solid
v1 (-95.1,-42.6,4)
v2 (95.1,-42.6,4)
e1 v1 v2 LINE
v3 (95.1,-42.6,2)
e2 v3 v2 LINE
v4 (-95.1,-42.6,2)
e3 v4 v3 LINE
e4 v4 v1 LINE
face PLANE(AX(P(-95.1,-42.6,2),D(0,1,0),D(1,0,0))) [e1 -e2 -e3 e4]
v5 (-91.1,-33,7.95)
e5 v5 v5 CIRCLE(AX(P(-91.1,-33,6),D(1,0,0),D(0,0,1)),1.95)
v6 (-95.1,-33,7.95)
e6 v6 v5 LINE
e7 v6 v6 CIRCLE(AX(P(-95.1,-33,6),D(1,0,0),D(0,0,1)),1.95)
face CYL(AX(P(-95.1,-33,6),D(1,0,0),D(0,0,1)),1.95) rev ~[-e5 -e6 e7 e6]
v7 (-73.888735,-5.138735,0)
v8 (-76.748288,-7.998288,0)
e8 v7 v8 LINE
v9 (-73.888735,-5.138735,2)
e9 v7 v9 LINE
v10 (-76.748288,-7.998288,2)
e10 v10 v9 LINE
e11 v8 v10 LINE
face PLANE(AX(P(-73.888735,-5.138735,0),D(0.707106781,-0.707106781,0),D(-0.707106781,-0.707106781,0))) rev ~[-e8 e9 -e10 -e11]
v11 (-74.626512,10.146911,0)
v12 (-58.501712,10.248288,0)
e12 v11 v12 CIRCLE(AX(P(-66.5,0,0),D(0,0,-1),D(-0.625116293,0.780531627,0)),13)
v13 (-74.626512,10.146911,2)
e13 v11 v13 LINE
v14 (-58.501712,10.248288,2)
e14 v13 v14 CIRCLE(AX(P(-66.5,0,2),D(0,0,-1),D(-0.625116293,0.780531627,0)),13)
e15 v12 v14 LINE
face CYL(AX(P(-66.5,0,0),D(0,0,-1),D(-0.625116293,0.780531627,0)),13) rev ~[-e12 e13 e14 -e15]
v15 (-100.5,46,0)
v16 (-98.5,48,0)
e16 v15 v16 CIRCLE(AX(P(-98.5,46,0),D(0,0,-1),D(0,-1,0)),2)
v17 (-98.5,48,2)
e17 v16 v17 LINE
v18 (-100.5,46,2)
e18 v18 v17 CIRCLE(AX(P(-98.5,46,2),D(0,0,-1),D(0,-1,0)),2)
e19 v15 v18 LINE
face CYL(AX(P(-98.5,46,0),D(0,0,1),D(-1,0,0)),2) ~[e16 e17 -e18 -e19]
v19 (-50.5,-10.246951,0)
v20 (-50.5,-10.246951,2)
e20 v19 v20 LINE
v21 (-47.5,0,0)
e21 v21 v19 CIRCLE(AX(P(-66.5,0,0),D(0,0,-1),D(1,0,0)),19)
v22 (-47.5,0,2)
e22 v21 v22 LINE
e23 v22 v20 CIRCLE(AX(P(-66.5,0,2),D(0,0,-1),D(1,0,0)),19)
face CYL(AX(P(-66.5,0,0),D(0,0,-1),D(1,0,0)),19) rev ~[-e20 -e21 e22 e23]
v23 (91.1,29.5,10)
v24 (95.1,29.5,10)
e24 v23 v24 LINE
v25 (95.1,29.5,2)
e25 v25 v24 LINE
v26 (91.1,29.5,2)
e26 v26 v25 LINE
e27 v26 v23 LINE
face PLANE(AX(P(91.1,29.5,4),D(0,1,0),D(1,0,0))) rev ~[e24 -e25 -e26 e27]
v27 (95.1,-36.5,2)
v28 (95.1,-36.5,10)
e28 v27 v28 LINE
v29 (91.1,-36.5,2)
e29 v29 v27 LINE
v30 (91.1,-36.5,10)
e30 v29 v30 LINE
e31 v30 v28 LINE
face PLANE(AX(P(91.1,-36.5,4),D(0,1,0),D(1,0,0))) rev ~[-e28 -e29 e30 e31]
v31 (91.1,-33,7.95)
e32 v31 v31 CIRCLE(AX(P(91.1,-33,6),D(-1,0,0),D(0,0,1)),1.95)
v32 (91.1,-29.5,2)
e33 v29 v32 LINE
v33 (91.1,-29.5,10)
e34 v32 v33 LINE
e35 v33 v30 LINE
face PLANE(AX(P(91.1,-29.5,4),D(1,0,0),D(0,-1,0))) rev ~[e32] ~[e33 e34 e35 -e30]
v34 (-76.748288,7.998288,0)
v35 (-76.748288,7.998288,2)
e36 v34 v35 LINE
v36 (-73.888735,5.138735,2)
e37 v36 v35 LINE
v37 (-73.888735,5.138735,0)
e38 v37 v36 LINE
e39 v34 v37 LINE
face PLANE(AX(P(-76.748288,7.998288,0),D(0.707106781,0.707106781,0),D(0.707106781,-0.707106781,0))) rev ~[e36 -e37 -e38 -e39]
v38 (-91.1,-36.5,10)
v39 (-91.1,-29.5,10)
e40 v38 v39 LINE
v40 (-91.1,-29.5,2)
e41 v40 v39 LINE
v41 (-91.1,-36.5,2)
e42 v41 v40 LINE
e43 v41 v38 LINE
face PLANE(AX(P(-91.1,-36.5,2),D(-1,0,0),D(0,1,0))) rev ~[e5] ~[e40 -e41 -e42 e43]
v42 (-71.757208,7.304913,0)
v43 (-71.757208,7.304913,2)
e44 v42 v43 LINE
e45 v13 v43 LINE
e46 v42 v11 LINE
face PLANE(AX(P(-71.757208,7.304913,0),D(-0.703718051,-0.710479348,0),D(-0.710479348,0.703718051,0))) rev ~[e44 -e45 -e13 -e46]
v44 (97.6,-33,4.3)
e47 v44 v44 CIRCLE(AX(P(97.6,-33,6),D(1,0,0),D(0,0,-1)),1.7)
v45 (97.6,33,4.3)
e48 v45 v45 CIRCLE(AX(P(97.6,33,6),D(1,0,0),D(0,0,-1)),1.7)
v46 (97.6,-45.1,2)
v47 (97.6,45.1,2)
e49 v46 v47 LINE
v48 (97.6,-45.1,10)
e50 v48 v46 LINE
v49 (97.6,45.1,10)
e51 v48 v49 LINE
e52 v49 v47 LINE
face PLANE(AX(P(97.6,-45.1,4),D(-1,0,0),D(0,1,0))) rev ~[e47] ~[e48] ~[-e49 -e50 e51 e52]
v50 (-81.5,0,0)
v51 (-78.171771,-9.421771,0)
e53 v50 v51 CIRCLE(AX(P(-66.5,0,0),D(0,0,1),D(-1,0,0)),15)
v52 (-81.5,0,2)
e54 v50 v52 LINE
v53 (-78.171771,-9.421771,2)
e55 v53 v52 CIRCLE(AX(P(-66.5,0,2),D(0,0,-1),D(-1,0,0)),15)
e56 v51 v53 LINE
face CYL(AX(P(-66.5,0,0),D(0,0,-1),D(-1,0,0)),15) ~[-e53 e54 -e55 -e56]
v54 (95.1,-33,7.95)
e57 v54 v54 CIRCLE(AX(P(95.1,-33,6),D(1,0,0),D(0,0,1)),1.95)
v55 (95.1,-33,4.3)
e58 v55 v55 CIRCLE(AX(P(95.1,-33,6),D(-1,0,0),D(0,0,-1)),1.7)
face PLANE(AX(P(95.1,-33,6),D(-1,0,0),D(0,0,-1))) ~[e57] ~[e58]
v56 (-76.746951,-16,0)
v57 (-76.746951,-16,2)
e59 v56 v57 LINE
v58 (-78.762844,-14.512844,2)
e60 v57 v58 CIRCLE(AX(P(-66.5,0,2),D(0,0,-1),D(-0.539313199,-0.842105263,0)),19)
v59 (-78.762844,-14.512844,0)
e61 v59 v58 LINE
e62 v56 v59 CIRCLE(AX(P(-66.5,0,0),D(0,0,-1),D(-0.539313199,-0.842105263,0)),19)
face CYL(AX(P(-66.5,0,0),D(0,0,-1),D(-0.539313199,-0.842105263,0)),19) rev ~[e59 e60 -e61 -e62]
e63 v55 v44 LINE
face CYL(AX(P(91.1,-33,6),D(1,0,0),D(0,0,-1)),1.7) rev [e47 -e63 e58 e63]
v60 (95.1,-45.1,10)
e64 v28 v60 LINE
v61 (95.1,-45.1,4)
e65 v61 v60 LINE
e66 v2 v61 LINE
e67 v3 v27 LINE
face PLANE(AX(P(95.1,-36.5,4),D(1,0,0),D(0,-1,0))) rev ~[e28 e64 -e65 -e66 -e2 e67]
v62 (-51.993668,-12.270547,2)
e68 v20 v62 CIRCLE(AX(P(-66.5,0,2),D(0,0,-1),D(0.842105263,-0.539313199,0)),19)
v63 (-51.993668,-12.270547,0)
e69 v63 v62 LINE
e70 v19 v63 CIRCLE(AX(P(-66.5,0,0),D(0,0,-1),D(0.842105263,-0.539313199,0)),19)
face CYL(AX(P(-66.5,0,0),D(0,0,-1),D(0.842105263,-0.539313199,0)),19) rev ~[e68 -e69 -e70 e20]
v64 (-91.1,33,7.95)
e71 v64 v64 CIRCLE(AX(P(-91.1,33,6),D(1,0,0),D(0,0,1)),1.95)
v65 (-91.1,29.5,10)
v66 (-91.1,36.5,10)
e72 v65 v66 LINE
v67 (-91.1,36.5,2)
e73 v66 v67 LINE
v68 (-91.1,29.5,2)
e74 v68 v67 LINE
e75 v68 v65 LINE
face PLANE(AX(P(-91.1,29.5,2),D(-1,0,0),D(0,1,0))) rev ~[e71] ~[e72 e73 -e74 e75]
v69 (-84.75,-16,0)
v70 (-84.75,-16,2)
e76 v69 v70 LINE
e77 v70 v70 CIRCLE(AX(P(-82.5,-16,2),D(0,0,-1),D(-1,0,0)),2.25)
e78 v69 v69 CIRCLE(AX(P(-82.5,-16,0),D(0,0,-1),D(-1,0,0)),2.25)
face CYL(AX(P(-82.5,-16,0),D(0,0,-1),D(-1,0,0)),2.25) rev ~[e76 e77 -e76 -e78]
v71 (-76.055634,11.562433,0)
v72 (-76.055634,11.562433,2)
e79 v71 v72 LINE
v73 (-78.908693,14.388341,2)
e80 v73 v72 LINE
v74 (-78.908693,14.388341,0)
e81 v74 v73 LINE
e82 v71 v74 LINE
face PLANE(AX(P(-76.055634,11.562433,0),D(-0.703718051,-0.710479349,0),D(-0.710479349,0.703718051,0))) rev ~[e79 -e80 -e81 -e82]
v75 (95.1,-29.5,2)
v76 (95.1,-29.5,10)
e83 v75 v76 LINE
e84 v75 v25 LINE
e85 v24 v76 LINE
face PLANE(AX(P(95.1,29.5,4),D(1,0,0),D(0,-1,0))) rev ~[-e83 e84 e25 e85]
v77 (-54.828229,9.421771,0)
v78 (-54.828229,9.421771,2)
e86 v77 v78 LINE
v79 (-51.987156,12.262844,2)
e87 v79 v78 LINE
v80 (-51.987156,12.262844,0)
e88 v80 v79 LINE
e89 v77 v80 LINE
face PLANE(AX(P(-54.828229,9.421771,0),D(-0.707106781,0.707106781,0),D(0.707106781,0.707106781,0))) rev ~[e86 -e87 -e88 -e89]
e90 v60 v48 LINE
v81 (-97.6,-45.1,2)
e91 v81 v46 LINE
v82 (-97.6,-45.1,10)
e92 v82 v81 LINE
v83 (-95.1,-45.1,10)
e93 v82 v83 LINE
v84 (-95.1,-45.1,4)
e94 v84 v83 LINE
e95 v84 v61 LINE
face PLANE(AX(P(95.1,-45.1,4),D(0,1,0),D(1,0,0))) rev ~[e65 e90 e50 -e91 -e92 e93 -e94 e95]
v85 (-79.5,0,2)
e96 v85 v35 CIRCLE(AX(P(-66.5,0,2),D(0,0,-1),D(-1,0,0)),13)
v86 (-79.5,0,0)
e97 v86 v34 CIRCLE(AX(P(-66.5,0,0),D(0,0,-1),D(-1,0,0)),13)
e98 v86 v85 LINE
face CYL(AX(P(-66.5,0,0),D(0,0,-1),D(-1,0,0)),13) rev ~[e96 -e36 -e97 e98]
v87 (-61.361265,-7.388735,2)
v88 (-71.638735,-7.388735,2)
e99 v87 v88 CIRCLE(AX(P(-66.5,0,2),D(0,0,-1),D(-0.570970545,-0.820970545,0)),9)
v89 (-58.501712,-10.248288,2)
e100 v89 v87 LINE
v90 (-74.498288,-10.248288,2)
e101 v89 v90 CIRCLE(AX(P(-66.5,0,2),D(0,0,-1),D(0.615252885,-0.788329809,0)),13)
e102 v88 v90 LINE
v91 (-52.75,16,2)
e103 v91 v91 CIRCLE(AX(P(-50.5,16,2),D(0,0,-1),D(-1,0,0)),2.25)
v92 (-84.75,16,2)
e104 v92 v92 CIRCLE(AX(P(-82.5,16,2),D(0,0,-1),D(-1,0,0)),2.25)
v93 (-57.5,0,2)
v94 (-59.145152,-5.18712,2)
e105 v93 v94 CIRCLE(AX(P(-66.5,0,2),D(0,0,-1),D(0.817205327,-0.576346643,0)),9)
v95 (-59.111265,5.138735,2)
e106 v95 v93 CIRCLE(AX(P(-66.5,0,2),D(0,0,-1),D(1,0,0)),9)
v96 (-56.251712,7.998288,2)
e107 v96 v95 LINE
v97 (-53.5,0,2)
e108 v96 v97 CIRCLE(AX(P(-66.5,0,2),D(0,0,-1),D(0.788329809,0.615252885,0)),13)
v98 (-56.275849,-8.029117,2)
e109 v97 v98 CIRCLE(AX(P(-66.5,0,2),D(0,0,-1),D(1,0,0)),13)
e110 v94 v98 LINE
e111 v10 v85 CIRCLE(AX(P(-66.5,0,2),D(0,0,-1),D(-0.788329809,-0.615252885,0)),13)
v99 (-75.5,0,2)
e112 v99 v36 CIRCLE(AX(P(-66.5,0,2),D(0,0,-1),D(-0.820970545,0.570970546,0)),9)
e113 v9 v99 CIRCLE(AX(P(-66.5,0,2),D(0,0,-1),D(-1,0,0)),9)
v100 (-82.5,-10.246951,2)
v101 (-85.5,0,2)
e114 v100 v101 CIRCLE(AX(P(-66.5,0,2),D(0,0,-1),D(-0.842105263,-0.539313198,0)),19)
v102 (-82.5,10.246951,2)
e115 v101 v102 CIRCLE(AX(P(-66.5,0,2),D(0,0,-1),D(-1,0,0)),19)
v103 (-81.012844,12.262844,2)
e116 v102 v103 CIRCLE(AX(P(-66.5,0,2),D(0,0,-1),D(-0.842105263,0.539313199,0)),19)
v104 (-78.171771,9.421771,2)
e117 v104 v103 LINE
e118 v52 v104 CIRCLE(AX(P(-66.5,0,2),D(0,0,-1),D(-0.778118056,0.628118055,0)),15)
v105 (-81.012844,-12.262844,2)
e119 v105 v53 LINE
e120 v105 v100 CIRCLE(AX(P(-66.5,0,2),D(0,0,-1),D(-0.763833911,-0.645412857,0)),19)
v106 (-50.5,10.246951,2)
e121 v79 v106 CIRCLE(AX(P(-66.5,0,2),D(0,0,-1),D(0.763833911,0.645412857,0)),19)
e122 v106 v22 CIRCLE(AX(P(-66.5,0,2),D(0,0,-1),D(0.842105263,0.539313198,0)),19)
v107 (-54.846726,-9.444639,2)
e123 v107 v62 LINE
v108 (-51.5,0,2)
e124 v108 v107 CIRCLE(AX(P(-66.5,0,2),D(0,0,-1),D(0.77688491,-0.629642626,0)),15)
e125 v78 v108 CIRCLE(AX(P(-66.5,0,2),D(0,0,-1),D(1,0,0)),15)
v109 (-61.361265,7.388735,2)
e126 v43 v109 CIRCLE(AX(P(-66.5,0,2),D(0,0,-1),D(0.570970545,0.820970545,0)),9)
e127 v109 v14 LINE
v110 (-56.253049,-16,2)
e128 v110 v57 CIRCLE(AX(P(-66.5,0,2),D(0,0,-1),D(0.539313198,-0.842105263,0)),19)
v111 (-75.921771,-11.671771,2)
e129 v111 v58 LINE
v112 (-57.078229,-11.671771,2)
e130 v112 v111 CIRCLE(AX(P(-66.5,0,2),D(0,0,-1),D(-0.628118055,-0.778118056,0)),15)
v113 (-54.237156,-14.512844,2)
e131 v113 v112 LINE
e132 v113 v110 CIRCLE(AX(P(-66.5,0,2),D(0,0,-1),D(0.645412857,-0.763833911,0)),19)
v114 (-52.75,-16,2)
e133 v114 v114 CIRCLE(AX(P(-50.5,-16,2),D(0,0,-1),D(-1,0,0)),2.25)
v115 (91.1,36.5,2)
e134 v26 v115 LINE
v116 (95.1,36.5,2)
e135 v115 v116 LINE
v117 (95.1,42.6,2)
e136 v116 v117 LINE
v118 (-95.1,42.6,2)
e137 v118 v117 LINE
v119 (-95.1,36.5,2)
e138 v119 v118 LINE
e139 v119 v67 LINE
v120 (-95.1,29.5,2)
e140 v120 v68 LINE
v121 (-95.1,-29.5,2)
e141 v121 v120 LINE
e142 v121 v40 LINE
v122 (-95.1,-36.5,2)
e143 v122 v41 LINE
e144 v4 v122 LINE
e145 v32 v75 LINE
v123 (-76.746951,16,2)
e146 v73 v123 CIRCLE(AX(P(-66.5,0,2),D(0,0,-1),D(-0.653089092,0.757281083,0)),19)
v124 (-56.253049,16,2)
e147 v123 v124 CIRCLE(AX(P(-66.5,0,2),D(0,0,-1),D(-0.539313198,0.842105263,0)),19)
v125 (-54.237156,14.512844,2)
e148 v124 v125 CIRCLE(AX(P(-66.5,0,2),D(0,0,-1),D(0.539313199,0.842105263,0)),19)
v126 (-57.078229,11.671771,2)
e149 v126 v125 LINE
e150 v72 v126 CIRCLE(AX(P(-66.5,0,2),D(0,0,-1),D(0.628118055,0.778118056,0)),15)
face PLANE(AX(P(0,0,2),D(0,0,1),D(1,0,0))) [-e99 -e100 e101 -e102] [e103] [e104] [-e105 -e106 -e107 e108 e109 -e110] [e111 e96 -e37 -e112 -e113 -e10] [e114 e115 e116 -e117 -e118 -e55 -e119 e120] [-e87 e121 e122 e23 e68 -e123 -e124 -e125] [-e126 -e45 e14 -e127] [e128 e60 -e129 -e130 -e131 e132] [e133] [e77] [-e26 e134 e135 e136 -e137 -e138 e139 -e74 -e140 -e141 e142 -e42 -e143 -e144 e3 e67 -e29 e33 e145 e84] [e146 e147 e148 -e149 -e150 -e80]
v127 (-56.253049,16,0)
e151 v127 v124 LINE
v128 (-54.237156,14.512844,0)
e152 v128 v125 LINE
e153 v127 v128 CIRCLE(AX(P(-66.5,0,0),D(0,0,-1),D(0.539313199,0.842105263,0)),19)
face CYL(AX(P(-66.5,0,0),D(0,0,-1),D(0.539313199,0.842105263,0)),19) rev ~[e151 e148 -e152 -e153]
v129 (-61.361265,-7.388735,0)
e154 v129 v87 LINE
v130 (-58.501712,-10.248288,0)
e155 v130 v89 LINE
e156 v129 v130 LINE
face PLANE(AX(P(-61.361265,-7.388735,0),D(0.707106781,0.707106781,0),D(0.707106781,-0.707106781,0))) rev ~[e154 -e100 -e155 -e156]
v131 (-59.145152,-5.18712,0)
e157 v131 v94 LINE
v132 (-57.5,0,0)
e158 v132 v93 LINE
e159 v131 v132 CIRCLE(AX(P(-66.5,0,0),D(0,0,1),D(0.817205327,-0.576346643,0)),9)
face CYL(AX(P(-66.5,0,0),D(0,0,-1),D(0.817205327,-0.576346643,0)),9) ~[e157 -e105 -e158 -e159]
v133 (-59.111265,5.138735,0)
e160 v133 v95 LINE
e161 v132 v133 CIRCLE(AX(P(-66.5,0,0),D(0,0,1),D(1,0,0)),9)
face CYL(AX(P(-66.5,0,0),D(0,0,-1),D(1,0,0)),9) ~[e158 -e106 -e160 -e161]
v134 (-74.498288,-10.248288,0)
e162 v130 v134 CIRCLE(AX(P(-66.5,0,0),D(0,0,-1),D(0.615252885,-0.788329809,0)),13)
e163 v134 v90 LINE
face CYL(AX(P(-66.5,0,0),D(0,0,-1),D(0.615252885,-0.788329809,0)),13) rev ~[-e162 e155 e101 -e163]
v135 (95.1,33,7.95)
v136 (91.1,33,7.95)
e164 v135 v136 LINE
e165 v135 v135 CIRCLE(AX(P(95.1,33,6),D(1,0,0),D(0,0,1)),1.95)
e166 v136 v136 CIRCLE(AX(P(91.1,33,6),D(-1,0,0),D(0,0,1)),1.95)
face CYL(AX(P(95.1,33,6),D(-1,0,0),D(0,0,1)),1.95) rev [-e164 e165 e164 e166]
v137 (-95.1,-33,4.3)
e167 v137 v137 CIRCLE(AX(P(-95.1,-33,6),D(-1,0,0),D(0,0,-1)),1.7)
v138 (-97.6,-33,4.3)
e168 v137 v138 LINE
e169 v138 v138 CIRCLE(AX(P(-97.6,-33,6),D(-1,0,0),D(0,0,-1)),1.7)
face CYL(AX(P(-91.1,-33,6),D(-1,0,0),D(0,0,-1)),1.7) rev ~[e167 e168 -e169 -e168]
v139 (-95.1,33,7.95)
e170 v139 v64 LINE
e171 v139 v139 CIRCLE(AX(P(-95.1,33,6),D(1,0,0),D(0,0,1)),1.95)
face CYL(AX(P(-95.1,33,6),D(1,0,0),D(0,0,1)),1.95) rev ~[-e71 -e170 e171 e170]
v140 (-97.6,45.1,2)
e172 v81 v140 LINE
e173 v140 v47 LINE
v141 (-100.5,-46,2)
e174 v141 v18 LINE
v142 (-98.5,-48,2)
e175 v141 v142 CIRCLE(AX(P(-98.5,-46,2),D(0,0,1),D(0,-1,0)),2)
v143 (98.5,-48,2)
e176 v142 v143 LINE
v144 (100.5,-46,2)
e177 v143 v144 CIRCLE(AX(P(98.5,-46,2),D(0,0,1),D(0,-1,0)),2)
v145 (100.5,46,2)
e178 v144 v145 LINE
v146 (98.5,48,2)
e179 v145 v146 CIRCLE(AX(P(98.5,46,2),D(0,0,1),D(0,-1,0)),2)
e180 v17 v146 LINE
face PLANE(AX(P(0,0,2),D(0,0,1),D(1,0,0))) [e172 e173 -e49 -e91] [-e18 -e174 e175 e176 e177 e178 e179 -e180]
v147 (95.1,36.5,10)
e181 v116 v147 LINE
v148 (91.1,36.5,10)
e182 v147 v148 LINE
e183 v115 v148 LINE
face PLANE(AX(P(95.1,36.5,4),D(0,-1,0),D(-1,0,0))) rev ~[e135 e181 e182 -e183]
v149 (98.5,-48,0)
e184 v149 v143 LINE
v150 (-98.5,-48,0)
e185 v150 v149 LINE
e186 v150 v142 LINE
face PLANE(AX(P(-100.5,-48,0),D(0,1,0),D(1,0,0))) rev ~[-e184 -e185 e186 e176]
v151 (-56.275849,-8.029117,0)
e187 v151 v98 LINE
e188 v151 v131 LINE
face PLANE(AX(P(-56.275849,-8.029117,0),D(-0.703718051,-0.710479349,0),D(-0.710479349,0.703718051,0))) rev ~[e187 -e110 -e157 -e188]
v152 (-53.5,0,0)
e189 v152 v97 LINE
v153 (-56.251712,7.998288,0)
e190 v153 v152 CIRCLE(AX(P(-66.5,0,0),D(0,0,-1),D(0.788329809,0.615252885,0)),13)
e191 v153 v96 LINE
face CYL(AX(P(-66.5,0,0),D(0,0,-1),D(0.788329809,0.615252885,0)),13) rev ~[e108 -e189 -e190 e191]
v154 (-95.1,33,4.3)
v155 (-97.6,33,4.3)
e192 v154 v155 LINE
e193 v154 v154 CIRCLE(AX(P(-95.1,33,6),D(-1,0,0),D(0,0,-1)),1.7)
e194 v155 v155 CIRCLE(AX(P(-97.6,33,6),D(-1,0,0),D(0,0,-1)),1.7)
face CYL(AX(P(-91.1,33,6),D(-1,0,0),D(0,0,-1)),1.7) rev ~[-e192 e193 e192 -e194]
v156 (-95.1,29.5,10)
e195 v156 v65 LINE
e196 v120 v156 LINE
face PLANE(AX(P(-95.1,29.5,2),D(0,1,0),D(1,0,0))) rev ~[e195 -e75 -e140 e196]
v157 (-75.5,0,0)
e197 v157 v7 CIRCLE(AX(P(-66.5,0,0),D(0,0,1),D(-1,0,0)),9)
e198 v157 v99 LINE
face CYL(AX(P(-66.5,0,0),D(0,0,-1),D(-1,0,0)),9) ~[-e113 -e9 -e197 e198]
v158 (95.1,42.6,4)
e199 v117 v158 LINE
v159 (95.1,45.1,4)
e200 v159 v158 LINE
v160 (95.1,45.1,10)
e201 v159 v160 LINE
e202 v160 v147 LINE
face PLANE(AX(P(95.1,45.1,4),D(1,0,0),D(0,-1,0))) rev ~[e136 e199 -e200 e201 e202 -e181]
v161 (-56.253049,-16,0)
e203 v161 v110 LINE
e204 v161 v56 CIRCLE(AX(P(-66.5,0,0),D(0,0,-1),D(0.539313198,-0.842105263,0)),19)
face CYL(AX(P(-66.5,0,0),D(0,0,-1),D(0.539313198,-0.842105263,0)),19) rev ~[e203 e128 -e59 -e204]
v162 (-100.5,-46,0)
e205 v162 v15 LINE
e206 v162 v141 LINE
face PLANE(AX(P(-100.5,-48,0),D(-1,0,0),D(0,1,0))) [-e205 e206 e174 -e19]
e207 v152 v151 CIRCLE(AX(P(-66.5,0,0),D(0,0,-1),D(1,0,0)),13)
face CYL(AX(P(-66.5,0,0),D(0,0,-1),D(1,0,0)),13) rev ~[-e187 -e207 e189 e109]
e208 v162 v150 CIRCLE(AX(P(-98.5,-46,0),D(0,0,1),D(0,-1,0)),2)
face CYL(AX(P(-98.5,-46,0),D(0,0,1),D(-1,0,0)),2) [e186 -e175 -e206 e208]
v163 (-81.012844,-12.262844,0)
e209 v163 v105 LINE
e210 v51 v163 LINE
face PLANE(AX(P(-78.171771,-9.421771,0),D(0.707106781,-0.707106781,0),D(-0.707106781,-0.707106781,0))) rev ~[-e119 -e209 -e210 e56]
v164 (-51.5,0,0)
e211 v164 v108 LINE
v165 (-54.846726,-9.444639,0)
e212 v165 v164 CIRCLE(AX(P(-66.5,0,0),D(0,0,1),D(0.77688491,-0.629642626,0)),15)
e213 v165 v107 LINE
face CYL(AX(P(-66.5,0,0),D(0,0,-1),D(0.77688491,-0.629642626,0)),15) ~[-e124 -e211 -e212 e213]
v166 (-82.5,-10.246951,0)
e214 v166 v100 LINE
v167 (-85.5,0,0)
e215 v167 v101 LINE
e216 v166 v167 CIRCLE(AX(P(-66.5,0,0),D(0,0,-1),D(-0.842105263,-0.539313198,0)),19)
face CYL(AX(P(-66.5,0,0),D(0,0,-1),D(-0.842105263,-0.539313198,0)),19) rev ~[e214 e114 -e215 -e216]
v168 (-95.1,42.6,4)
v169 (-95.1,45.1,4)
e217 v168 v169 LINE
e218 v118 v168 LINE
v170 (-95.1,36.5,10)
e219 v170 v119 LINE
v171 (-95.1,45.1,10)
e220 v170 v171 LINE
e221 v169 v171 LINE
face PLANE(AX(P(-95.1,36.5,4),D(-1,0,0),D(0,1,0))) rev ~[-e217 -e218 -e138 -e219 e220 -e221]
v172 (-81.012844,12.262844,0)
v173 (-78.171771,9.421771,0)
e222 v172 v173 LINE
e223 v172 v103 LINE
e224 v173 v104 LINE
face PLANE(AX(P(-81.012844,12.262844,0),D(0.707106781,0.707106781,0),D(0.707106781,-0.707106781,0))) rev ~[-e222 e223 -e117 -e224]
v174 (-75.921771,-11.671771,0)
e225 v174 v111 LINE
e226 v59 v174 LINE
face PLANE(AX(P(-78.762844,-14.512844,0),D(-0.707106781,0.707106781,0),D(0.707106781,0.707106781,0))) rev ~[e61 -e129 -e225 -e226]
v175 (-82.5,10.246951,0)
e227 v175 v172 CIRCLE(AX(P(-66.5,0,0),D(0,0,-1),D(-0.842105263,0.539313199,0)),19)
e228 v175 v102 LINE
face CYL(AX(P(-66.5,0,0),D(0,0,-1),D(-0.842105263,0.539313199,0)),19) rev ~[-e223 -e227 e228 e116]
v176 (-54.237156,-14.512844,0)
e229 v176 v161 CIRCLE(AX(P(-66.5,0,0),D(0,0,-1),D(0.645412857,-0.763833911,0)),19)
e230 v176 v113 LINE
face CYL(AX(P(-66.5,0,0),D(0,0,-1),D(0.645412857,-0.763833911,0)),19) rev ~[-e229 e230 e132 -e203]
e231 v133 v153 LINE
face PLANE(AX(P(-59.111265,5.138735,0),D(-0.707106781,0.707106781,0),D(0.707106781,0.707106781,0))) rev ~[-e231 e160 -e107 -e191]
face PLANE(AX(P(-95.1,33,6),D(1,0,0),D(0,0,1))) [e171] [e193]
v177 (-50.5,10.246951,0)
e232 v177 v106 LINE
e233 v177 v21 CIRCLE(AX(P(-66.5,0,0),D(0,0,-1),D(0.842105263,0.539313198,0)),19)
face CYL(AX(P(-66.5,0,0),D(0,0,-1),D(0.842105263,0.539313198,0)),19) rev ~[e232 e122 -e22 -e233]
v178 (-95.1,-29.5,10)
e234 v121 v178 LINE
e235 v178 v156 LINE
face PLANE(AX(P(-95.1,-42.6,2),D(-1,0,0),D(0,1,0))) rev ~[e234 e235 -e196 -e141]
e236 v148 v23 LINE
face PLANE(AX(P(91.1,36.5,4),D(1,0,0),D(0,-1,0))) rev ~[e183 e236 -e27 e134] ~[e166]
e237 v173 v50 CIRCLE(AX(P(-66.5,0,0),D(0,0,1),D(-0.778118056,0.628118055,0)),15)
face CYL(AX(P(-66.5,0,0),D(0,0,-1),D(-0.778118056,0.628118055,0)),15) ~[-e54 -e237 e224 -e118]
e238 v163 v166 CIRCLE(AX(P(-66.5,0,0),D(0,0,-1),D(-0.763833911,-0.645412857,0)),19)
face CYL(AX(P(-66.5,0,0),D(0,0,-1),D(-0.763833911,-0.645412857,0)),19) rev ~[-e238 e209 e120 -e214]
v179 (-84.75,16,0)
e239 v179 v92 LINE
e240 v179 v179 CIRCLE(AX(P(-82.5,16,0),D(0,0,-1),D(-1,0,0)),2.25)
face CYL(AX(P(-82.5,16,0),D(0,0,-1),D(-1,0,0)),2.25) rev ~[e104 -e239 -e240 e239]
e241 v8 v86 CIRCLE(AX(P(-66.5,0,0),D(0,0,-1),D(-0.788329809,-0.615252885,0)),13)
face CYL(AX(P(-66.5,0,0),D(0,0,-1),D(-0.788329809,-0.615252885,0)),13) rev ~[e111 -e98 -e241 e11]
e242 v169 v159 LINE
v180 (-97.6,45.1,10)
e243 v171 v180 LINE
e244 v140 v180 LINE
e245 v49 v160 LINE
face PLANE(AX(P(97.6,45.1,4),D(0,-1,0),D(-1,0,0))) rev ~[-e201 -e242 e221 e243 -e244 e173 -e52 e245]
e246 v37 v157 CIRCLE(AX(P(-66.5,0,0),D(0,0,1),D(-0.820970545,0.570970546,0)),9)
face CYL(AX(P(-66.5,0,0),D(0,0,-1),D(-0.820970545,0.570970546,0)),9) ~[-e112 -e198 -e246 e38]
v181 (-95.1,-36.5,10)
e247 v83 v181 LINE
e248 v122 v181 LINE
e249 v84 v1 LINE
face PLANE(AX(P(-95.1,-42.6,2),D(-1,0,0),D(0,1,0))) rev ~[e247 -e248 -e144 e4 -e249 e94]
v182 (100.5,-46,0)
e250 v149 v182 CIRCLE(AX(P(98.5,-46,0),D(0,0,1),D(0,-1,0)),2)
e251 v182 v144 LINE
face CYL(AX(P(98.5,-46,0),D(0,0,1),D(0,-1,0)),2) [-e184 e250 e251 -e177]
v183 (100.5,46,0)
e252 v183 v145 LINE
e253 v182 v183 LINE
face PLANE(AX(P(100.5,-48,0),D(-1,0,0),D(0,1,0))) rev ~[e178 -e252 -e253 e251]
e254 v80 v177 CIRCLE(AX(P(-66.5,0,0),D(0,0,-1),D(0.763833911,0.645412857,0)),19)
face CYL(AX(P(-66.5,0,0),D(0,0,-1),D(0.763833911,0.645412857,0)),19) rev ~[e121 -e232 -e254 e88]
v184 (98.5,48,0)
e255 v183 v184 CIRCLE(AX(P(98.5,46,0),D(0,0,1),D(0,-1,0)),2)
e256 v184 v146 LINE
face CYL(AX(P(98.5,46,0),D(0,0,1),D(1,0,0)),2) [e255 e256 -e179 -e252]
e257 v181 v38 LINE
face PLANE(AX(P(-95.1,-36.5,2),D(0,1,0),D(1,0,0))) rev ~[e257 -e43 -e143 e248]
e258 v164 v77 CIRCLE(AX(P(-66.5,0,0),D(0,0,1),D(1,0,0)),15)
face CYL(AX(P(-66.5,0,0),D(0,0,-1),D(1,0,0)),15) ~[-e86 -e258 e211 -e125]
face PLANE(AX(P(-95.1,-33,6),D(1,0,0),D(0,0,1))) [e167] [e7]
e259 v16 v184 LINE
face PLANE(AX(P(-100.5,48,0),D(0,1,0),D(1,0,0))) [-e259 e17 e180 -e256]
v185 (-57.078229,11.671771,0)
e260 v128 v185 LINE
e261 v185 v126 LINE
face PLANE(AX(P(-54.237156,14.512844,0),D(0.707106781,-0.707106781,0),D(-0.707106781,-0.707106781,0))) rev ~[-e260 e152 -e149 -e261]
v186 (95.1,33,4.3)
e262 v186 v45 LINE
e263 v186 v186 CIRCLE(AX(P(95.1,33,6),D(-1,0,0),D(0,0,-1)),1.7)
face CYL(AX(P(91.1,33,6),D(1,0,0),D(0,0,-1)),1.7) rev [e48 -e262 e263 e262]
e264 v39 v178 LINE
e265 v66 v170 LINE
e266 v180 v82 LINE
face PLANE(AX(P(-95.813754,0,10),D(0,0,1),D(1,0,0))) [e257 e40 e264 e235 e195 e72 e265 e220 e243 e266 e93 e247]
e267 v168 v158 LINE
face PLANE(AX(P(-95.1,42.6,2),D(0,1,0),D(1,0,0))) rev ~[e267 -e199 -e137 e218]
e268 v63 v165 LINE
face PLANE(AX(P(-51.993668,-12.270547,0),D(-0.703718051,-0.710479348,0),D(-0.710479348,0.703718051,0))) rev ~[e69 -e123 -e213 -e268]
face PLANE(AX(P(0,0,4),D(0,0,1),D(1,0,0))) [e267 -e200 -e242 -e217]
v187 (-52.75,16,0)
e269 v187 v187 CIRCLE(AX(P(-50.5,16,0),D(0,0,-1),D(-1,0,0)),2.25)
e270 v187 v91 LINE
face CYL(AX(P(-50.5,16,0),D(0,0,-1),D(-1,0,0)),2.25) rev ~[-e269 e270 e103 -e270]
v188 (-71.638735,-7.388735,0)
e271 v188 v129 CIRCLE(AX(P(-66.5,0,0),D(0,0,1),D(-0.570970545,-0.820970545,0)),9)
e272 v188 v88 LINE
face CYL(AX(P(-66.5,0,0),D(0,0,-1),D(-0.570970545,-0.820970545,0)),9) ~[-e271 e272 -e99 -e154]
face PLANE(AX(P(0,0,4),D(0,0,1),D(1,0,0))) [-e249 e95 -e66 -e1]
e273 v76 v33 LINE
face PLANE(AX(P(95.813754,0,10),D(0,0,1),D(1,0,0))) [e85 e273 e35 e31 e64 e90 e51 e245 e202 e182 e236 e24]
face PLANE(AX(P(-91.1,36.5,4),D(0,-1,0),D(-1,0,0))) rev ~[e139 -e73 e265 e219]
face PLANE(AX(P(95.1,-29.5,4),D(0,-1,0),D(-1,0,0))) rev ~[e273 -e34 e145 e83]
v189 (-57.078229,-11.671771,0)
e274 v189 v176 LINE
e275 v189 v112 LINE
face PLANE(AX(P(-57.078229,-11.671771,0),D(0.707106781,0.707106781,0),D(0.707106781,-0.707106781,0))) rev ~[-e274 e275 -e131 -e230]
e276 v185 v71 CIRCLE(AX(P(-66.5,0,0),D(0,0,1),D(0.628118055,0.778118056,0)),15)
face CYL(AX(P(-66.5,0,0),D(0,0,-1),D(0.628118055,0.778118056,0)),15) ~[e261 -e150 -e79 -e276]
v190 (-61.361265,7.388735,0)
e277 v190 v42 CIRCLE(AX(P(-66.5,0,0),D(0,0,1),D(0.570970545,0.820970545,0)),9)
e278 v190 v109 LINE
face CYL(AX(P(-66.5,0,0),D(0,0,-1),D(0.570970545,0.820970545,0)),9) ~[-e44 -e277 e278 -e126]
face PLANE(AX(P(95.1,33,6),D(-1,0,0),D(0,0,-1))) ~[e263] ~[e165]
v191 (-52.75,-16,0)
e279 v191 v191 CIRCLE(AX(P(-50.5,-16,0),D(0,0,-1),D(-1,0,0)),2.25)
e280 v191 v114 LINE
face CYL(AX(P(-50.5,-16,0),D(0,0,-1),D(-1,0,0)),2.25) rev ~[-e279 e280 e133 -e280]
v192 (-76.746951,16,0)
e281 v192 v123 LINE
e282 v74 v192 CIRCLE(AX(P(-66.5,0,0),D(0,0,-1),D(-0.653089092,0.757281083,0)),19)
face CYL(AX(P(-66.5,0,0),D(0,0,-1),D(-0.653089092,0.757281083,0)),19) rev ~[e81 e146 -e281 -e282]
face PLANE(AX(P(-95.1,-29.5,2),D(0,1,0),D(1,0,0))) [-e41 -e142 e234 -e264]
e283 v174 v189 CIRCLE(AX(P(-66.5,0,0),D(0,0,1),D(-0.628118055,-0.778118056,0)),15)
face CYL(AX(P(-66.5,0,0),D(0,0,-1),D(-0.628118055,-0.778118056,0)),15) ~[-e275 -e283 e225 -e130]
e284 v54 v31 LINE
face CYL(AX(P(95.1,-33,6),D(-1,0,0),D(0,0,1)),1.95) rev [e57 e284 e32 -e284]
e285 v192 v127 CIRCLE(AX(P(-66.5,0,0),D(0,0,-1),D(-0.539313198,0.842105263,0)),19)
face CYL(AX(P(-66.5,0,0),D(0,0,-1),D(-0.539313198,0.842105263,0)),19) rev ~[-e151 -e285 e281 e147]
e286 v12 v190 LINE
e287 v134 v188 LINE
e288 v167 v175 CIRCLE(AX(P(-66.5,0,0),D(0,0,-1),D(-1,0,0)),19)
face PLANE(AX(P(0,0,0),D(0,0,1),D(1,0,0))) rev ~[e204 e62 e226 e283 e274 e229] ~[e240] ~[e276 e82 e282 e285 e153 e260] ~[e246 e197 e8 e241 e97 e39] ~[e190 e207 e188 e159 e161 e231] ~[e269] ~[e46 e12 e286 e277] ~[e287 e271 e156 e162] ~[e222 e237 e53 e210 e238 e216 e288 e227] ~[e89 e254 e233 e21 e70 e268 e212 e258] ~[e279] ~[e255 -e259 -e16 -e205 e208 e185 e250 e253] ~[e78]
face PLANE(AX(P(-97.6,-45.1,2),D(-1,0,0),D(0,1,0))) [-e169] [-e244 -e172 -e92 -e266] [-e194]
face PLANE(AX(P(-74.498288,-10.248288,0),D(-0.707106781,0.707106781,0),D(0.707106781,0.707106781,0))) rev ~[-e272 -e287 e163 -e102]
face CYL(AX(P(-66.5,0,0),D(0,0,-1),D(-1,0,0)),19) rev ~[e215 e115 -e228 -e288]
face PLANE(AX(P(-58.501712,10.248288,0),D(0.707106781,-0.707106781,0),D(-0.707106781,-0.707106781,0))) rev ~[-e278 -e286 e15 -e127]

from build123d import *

# Parameters (mm, degrees)
P_DORYS_W                                         = 201
P_DORYS_H                                         = 96
P_IDAT_VYSUNUT_M1_DEPTH                           = 2
ZAOBLIT1_R                                        = 2
SKICA2_W                                          = 195.2
SKICA2_H                                          = 90.2
SKICA2_W_2                                        = 190.2
SKICA2_H_2                                        = 85.2
SKICA2_W_3                                        = 4
SKICA2_H_3                                        = 7
P_IDAT_VYSUNUT_M2_DEPTH                           = 2
P_IDAT_VYSUNUT_M3_DEPTH                           = 6
V_LCOV_ZAHLOUBEN_PRO_M6_ROUBY_S_V_LCO_D           = 3.4
V_LCOV_ZAHLOUBEN_PRO_M6_ROUBY_S_V_LCO_DEPTH       = 9.4
V_LCOV_ZAHLOUBEN_PRO_M6_ROUBY_S_V_LCO_CBORE_D     = 3.9
V_LCOV_ZAHLOUBEN_PRO_M6_ROUBY_S_V_LCO_CBORE_DEPTH = 4
SKICA7_R                                          = 2.25
ODEBRAT_VYSUNUT_M1_DEPTH                          = 6


with BuildPart() as part:
    # půdorys → Přidat vysunutím1 (new body)
    with BuildSketch(Plane.XY):
        Rectangle(P_DORYS_W, P_DORYS_H)
    extrude(amount=P_IDAT_VYSUNUT_M1_DEPTH)

    # Zaoblit1
    zaoblit1_edges = [part.edges().sort_by_distance(p)[0] for p in [
        (100.5, -48, 1),
        (-100.5, -48, 1),
        (-100.5, 48, 1),
        (100.5, 48, 1),
    ]]
    fillet(zaoblit1_edges, radius=ZAOBLIT1_R)

    # Skica2 → Přidat vysunutím2 (add)
    # profile 1 of 5: a face of its own
    with BuildSketch(Plane.XY.offset(2)):
        Rectangle(SKICA2_W, SKICA2_H)
        Rectangle(SKICA2_W_2, SKICA2_H_2, mode=Mode.SUBTRACT)
    # profile 2 of 5: a face of its own
    with BuildSketch(Plane.XY.offset(2)):
        with Locations((93.1, -33)):
            Rectangle(SKICA2_W_3, SKICA2_H_3)
    # profile 3 of 5: a face of its own
    with BuildSketch(Plane.XY.offset(2)):
        with Locations((93.1, 33)):
            Rectangle(SKICA2_W_3, SKICA2_H_3)
    # profile 4 of 5: a face of its own
    with BuildSketch(Plane.XY.offset(2)):
        with Locations((-93.1, 33)):
            Rectangle(SKICA2_W_3, SKICA2_H_3)
    # profile 5 of 5: a face of its own
    with BuildSketch(Plane.XY.offset(2)):
        with Locations((-93.1, -33)):
            Rectangle(SKICA2_W_3, SKICA2_H_3)
    extrude(amount=P_IDAT_VYSUNUT_M2_DEPTH)

    # Skica3 → Přidat vysunutím3 (add)
    with BuildSketch(Plane.XY.offset(4)):
        Polygon((95.1, 45.1), (95.1, 36.5), (91.1, 36.5), (91.1, 29.5), (95.1, 29.5), (95.1, -29.5), (91.1, -29.5), (91.1, -36.5), (95.1, -36.5), (95.1, -45.1), (97.6, -45.1), (97.6, 45.1), align=None)
        Polygon((-95.1, -45.1), (-95.1, -36.5), (-91.1, -36.5), (-91.1, -29.5), (-95.1, -29.5), (-95.1, 29.5), (-91.1, 29.5), (-91.1, 36.5), (-95.1, 36.5), (-95.1, 45.1), (-97.6, 45.1), (-97.6, -45.1), align=None)
    extrude(amount=P_IDAT_VYSUNUT_M3_DEPTH)

    # Válcové zahloubení pro M6 šrouby s válcovou hlavou zaoblenou1
    with Locations(Plane(origin=(-91.1, 33, 6), x_dir=(0, 0, 1), z_dir=(1, 0, 0))):
        with Locations((0, 0), (0, 66)):
            v_lcov_zahlouben_pro_m6_rouby_s_v_lco = CounterBoreHole(V_LCOV_ZAHLOUBEN_PRO_M6_ROUBY_S_V_LCO_D / 2, V_LCOV_ZAHLOUBEN_PRO_M6_ROUBY_S_V_LCO_CBORE_D / 2, V_LCOV_ZAHLOUBEN_PRO_M6_ROUBY_S_V_LCO_CBORE_DEPTH, depth=V_LCOV_ZAHLOUBEN_PRO_M6_ROUBY_S_V_LCO_DEPTH)

    # Zrcadlit1: Válcové zahloubení pro M6 šrouby s válcovou hlavou zaoblenou1 across plane
    add(v_lcov_zahlouben_pro_m6_rouby_s_v_lco.mirror(Plane(origin=(0, 0, 0), x_dir=(0, 0, 1), z_dir=(1, 0, 0))), mode=Mode.SUBTRACT)

    # Skica7 → Odebrat vysunutím1 (cut)
    with BuildSketch(Plane(origin=(0, 0, 0), x_dir=(-1, 0, 0), z_dir=(0, 0, -1))):
        with BuildLine():
            Line((82.5, 10.246950766), (82.5, 0))
            Line((82.5, 0), (85.5, 0))
            ThreePointArc((85.5, 0), (84.734582529, 5.338539126), (82.5, 10.246950766))
        make_face()
        with BuildLine():
            Line((85.5, 0), (82.5, 0))
            Line((82.5, 0), (82.5, -10.246950766))
            ThreePointArc((82.5, -10.246950766), (84.734582529, -5.338539126), (85.5, 0))
        make_face()
        with BuildLine():
            ThreePointArc((78.171770833, 9.421770833), (80.643489005, 4.996170409), (81.5, 0))
            Line((81.5, 0), (82.5, 0))
            Line((82.5, 0), (82.5, 10.246950766))
            ThreePointArc((82.5, 10.246950766), (81.789681929, 11.279433784), (81.0128443, 12.2628443))
            Line((81.0128443, 12.2628443), (78.171770833, 9.421770833))
        make_face()
        with BuildLine():
            ThreePointArc((57.078229167, 11.671770833), (66.586420622, 14.999751047), (76.055634012, 11.562433076))
            Line((76.055634012, 11.562433076), (78.908692733, 14.38834058))
            ThreePointArc((78.908692733, 14.38834058), (77.856447821, 15.232566852), (76.746950766, 16))
            Line((76.746950766, 16), (56.253049234, 16))
            ThreePointArc((56.253049234, 16), (55.220566216, 15.289681929), (54.2371557, 14.5128443))
            Line((54.2371557, 14.5128443), (57.078229167, 11.671770833))
        make_face()
        with BuildLine():
            Line((56.253049234, 16), (76.746950766, 16))
            ThreePointArc((76.746950766, 16), (66.5, 19), (56.253049234, 16))
        make_face()
        with BuildLine():
            ThreePointArc((51.5, 0), (52.356510995, 4.996170409), (54.828229167, 9.421770833))
            Line((54.828229167, 9.421770833), (51.9871557, 12.2628443))
            ThreePointArc((51.9871557, 12.2628443), (51.210318071, 11.279433784), (50.5, 10.246950766))
            Line((50.5, 10.246950766), (50.5, 0))
            Line((50.5, 0), (51.5, 0))
        make_face()
        with BuildLine():
            Line((50.5, 0), (50.5, 10.246950766))
            ThreePointArc((50.5, 10.246950766), (48.265417471, 5.338539126), (47.5, 0))
            Line((47.5, 0), (50.5, 0))
        make_face()
        with BuildLine():
            Line((50.5, -10.246950766), (50.5, 0))
            Line((50.5, 0), (47.5, 0))
            ThreePointArc((47.5, 0), (48.265417471, -5.338539126), (50.5, -10.246950766))
        make_face()
        with BuildLine():
            Line((51.993667632, -12.2705469), (54.846726353, -9.444639395))
            ThreePointArc((54.846726353, -9.444639395), (52.361416183, -5.010034695), (51.5, 0))
            Line((51.5, 0), (50.5, 0))
            Line((50.5, 0), (50.5, -10.246950766))
            ThreePointArc((50.5, -10.246950766), (51.213312525, -11.283491748), (51.993667632, -12.2705469))
        make_face()
        with BuildLine():
            Line((78.7628443, -14.5128443), (75.921770833, -11.671770833))
            ThreePointArc((75.921770833, -11.671770833), (66.5, -15), (57.078229167, -11.671770833))
            Line((57.078229167, -11.671770833), (54.2371557, -14.5128443))
            ThreePointArc((54.2371557, -14.5128443), (55.220566216, -15.289681929), (56.253049234, -16))
            Line((56.253049234, -16), (76.746950766, -16))
            ThreePointArc((76.746950766, -16), (77.779433784, -15.289681929), (78.7628443, -14.5128443))
        make_face()
        with BuildLine():
            ThreePointArc((56.253049234, -16), (66.5, -19), (76.746950766, -16))
            Line((76.746950766, -16), (56.253049234, -16))
        make_face()
        with BuildLine():
            Line((82.5, 0), (81.5, 0))
            ThreePointArc((81.5, 0), (80.643489005, -4.996170409), (78.171770833, -9.421770833))
            Line((78.171770833, -9.421770833), (81.0128443, -12.2628443))
            ThreePointArc((81.0128443, -12.2628443), (81.789681929, -11.279433784), (82.5, -10.246950766))
            Line((82.5, -10.246950766), (82.5, 0))
        make_face()
        with BuildLine():
            ThreePointArc((76.748287511, -7.998287511), (78.792838111, -4.229199828), (79.5, 0))
            Line((79.5, 0), (75.5, 0))
            ThreePointArc((75.5, 0), (75.087741676, -2.692711071), (73.888734908, -5.138734908))
            Line((73.888734908, -5.138734908), (76.748287511, -7.998287511))
        make_face()
        with BuildLine():
            ThreePointArc((58.501712489, -10.248287511), (66.5, -13), (74.498287511, -10.248287511))
            Line((74.498287511, -10.248287511), (71.638734908, -7.388734908))
            ThreePointArc((71.638734908, -7.388734908), (66.5, -9), (61.361265092, -7.388734908))
            Line((61.361265092, -7.388734908), (58.501712489, -10.248287511))
        make_face()
        with BuildLine():
            ThreePointArc((53.5, 0), (54.213544679, -4.247707105), (56.275848561, -8.02911747))
            Line((56.275848561, -8.02911747), (59.145152054, -5.187119788))
            ThreePointArc((59.145152054, -5.187119788), (57.921141349, -2.720879314), (57.5, 0))
            Line((57.5, 0), (53.5, 0))
        make_face()
        with BuildLine():
            Line((59.111265092, 5.138734908), (56.251712489, 7.998287511))
            ThreePointArc((56.251712489, 7.998287511), (54.207161889, 4.229199828), (53.5, 0))
            Line((53.5, 0), (57.5, 0))
            ThreePointArc((57.5, 0), (57.912258324, 2.692711071), (59.111265092, 5.138734908))
        make_face()
        with BuildLine():
            Line((71.757208311, 7.304913468), (74.626511804, 10.146911151))
            ThreePointArc((74.626511804, 10.146911151), (66.581729181, 12.999743088), (58.501712489, 10.248287511))
            Line((58.501712489, 10.248287511), (61.361265092, 7.388734908))
            ThreePointArc((61.361265092, 7.388734908), (66.572563732, 8.999707468), (71.757208311, 7.304913468))
        make_face()
        with BuildLine():
            Line((75.5, 0), (79.5, 0))
            ThreePointArc((79.5, 0), (78.792838111, 4.229199828), (76.748287511, 7.998287511))
            Line((76.748287511, 7.998287511), (73.888734908, 5.138734908))
            ThreePointArc((73.888734908, 5.138734908), (75.087741676, 2.692711071), (75.5, 0))
        make_face()
        with Locations((50.5, -16)):
            Circle(SKICA7_R)
        with Locations((82.5, -16)):
            Circle(SKICA7_R)
        with Locations((82.5, 16)):
            Circle(SKICA7_R)
        with Locations((50.5, 16)):
            Circle(SKICA7_R)
    extrude(amount=-ODEBRAT_VYSUNUT_M1_DEPTH, mode=Mode.SUBTRACT)


solid = part.part
